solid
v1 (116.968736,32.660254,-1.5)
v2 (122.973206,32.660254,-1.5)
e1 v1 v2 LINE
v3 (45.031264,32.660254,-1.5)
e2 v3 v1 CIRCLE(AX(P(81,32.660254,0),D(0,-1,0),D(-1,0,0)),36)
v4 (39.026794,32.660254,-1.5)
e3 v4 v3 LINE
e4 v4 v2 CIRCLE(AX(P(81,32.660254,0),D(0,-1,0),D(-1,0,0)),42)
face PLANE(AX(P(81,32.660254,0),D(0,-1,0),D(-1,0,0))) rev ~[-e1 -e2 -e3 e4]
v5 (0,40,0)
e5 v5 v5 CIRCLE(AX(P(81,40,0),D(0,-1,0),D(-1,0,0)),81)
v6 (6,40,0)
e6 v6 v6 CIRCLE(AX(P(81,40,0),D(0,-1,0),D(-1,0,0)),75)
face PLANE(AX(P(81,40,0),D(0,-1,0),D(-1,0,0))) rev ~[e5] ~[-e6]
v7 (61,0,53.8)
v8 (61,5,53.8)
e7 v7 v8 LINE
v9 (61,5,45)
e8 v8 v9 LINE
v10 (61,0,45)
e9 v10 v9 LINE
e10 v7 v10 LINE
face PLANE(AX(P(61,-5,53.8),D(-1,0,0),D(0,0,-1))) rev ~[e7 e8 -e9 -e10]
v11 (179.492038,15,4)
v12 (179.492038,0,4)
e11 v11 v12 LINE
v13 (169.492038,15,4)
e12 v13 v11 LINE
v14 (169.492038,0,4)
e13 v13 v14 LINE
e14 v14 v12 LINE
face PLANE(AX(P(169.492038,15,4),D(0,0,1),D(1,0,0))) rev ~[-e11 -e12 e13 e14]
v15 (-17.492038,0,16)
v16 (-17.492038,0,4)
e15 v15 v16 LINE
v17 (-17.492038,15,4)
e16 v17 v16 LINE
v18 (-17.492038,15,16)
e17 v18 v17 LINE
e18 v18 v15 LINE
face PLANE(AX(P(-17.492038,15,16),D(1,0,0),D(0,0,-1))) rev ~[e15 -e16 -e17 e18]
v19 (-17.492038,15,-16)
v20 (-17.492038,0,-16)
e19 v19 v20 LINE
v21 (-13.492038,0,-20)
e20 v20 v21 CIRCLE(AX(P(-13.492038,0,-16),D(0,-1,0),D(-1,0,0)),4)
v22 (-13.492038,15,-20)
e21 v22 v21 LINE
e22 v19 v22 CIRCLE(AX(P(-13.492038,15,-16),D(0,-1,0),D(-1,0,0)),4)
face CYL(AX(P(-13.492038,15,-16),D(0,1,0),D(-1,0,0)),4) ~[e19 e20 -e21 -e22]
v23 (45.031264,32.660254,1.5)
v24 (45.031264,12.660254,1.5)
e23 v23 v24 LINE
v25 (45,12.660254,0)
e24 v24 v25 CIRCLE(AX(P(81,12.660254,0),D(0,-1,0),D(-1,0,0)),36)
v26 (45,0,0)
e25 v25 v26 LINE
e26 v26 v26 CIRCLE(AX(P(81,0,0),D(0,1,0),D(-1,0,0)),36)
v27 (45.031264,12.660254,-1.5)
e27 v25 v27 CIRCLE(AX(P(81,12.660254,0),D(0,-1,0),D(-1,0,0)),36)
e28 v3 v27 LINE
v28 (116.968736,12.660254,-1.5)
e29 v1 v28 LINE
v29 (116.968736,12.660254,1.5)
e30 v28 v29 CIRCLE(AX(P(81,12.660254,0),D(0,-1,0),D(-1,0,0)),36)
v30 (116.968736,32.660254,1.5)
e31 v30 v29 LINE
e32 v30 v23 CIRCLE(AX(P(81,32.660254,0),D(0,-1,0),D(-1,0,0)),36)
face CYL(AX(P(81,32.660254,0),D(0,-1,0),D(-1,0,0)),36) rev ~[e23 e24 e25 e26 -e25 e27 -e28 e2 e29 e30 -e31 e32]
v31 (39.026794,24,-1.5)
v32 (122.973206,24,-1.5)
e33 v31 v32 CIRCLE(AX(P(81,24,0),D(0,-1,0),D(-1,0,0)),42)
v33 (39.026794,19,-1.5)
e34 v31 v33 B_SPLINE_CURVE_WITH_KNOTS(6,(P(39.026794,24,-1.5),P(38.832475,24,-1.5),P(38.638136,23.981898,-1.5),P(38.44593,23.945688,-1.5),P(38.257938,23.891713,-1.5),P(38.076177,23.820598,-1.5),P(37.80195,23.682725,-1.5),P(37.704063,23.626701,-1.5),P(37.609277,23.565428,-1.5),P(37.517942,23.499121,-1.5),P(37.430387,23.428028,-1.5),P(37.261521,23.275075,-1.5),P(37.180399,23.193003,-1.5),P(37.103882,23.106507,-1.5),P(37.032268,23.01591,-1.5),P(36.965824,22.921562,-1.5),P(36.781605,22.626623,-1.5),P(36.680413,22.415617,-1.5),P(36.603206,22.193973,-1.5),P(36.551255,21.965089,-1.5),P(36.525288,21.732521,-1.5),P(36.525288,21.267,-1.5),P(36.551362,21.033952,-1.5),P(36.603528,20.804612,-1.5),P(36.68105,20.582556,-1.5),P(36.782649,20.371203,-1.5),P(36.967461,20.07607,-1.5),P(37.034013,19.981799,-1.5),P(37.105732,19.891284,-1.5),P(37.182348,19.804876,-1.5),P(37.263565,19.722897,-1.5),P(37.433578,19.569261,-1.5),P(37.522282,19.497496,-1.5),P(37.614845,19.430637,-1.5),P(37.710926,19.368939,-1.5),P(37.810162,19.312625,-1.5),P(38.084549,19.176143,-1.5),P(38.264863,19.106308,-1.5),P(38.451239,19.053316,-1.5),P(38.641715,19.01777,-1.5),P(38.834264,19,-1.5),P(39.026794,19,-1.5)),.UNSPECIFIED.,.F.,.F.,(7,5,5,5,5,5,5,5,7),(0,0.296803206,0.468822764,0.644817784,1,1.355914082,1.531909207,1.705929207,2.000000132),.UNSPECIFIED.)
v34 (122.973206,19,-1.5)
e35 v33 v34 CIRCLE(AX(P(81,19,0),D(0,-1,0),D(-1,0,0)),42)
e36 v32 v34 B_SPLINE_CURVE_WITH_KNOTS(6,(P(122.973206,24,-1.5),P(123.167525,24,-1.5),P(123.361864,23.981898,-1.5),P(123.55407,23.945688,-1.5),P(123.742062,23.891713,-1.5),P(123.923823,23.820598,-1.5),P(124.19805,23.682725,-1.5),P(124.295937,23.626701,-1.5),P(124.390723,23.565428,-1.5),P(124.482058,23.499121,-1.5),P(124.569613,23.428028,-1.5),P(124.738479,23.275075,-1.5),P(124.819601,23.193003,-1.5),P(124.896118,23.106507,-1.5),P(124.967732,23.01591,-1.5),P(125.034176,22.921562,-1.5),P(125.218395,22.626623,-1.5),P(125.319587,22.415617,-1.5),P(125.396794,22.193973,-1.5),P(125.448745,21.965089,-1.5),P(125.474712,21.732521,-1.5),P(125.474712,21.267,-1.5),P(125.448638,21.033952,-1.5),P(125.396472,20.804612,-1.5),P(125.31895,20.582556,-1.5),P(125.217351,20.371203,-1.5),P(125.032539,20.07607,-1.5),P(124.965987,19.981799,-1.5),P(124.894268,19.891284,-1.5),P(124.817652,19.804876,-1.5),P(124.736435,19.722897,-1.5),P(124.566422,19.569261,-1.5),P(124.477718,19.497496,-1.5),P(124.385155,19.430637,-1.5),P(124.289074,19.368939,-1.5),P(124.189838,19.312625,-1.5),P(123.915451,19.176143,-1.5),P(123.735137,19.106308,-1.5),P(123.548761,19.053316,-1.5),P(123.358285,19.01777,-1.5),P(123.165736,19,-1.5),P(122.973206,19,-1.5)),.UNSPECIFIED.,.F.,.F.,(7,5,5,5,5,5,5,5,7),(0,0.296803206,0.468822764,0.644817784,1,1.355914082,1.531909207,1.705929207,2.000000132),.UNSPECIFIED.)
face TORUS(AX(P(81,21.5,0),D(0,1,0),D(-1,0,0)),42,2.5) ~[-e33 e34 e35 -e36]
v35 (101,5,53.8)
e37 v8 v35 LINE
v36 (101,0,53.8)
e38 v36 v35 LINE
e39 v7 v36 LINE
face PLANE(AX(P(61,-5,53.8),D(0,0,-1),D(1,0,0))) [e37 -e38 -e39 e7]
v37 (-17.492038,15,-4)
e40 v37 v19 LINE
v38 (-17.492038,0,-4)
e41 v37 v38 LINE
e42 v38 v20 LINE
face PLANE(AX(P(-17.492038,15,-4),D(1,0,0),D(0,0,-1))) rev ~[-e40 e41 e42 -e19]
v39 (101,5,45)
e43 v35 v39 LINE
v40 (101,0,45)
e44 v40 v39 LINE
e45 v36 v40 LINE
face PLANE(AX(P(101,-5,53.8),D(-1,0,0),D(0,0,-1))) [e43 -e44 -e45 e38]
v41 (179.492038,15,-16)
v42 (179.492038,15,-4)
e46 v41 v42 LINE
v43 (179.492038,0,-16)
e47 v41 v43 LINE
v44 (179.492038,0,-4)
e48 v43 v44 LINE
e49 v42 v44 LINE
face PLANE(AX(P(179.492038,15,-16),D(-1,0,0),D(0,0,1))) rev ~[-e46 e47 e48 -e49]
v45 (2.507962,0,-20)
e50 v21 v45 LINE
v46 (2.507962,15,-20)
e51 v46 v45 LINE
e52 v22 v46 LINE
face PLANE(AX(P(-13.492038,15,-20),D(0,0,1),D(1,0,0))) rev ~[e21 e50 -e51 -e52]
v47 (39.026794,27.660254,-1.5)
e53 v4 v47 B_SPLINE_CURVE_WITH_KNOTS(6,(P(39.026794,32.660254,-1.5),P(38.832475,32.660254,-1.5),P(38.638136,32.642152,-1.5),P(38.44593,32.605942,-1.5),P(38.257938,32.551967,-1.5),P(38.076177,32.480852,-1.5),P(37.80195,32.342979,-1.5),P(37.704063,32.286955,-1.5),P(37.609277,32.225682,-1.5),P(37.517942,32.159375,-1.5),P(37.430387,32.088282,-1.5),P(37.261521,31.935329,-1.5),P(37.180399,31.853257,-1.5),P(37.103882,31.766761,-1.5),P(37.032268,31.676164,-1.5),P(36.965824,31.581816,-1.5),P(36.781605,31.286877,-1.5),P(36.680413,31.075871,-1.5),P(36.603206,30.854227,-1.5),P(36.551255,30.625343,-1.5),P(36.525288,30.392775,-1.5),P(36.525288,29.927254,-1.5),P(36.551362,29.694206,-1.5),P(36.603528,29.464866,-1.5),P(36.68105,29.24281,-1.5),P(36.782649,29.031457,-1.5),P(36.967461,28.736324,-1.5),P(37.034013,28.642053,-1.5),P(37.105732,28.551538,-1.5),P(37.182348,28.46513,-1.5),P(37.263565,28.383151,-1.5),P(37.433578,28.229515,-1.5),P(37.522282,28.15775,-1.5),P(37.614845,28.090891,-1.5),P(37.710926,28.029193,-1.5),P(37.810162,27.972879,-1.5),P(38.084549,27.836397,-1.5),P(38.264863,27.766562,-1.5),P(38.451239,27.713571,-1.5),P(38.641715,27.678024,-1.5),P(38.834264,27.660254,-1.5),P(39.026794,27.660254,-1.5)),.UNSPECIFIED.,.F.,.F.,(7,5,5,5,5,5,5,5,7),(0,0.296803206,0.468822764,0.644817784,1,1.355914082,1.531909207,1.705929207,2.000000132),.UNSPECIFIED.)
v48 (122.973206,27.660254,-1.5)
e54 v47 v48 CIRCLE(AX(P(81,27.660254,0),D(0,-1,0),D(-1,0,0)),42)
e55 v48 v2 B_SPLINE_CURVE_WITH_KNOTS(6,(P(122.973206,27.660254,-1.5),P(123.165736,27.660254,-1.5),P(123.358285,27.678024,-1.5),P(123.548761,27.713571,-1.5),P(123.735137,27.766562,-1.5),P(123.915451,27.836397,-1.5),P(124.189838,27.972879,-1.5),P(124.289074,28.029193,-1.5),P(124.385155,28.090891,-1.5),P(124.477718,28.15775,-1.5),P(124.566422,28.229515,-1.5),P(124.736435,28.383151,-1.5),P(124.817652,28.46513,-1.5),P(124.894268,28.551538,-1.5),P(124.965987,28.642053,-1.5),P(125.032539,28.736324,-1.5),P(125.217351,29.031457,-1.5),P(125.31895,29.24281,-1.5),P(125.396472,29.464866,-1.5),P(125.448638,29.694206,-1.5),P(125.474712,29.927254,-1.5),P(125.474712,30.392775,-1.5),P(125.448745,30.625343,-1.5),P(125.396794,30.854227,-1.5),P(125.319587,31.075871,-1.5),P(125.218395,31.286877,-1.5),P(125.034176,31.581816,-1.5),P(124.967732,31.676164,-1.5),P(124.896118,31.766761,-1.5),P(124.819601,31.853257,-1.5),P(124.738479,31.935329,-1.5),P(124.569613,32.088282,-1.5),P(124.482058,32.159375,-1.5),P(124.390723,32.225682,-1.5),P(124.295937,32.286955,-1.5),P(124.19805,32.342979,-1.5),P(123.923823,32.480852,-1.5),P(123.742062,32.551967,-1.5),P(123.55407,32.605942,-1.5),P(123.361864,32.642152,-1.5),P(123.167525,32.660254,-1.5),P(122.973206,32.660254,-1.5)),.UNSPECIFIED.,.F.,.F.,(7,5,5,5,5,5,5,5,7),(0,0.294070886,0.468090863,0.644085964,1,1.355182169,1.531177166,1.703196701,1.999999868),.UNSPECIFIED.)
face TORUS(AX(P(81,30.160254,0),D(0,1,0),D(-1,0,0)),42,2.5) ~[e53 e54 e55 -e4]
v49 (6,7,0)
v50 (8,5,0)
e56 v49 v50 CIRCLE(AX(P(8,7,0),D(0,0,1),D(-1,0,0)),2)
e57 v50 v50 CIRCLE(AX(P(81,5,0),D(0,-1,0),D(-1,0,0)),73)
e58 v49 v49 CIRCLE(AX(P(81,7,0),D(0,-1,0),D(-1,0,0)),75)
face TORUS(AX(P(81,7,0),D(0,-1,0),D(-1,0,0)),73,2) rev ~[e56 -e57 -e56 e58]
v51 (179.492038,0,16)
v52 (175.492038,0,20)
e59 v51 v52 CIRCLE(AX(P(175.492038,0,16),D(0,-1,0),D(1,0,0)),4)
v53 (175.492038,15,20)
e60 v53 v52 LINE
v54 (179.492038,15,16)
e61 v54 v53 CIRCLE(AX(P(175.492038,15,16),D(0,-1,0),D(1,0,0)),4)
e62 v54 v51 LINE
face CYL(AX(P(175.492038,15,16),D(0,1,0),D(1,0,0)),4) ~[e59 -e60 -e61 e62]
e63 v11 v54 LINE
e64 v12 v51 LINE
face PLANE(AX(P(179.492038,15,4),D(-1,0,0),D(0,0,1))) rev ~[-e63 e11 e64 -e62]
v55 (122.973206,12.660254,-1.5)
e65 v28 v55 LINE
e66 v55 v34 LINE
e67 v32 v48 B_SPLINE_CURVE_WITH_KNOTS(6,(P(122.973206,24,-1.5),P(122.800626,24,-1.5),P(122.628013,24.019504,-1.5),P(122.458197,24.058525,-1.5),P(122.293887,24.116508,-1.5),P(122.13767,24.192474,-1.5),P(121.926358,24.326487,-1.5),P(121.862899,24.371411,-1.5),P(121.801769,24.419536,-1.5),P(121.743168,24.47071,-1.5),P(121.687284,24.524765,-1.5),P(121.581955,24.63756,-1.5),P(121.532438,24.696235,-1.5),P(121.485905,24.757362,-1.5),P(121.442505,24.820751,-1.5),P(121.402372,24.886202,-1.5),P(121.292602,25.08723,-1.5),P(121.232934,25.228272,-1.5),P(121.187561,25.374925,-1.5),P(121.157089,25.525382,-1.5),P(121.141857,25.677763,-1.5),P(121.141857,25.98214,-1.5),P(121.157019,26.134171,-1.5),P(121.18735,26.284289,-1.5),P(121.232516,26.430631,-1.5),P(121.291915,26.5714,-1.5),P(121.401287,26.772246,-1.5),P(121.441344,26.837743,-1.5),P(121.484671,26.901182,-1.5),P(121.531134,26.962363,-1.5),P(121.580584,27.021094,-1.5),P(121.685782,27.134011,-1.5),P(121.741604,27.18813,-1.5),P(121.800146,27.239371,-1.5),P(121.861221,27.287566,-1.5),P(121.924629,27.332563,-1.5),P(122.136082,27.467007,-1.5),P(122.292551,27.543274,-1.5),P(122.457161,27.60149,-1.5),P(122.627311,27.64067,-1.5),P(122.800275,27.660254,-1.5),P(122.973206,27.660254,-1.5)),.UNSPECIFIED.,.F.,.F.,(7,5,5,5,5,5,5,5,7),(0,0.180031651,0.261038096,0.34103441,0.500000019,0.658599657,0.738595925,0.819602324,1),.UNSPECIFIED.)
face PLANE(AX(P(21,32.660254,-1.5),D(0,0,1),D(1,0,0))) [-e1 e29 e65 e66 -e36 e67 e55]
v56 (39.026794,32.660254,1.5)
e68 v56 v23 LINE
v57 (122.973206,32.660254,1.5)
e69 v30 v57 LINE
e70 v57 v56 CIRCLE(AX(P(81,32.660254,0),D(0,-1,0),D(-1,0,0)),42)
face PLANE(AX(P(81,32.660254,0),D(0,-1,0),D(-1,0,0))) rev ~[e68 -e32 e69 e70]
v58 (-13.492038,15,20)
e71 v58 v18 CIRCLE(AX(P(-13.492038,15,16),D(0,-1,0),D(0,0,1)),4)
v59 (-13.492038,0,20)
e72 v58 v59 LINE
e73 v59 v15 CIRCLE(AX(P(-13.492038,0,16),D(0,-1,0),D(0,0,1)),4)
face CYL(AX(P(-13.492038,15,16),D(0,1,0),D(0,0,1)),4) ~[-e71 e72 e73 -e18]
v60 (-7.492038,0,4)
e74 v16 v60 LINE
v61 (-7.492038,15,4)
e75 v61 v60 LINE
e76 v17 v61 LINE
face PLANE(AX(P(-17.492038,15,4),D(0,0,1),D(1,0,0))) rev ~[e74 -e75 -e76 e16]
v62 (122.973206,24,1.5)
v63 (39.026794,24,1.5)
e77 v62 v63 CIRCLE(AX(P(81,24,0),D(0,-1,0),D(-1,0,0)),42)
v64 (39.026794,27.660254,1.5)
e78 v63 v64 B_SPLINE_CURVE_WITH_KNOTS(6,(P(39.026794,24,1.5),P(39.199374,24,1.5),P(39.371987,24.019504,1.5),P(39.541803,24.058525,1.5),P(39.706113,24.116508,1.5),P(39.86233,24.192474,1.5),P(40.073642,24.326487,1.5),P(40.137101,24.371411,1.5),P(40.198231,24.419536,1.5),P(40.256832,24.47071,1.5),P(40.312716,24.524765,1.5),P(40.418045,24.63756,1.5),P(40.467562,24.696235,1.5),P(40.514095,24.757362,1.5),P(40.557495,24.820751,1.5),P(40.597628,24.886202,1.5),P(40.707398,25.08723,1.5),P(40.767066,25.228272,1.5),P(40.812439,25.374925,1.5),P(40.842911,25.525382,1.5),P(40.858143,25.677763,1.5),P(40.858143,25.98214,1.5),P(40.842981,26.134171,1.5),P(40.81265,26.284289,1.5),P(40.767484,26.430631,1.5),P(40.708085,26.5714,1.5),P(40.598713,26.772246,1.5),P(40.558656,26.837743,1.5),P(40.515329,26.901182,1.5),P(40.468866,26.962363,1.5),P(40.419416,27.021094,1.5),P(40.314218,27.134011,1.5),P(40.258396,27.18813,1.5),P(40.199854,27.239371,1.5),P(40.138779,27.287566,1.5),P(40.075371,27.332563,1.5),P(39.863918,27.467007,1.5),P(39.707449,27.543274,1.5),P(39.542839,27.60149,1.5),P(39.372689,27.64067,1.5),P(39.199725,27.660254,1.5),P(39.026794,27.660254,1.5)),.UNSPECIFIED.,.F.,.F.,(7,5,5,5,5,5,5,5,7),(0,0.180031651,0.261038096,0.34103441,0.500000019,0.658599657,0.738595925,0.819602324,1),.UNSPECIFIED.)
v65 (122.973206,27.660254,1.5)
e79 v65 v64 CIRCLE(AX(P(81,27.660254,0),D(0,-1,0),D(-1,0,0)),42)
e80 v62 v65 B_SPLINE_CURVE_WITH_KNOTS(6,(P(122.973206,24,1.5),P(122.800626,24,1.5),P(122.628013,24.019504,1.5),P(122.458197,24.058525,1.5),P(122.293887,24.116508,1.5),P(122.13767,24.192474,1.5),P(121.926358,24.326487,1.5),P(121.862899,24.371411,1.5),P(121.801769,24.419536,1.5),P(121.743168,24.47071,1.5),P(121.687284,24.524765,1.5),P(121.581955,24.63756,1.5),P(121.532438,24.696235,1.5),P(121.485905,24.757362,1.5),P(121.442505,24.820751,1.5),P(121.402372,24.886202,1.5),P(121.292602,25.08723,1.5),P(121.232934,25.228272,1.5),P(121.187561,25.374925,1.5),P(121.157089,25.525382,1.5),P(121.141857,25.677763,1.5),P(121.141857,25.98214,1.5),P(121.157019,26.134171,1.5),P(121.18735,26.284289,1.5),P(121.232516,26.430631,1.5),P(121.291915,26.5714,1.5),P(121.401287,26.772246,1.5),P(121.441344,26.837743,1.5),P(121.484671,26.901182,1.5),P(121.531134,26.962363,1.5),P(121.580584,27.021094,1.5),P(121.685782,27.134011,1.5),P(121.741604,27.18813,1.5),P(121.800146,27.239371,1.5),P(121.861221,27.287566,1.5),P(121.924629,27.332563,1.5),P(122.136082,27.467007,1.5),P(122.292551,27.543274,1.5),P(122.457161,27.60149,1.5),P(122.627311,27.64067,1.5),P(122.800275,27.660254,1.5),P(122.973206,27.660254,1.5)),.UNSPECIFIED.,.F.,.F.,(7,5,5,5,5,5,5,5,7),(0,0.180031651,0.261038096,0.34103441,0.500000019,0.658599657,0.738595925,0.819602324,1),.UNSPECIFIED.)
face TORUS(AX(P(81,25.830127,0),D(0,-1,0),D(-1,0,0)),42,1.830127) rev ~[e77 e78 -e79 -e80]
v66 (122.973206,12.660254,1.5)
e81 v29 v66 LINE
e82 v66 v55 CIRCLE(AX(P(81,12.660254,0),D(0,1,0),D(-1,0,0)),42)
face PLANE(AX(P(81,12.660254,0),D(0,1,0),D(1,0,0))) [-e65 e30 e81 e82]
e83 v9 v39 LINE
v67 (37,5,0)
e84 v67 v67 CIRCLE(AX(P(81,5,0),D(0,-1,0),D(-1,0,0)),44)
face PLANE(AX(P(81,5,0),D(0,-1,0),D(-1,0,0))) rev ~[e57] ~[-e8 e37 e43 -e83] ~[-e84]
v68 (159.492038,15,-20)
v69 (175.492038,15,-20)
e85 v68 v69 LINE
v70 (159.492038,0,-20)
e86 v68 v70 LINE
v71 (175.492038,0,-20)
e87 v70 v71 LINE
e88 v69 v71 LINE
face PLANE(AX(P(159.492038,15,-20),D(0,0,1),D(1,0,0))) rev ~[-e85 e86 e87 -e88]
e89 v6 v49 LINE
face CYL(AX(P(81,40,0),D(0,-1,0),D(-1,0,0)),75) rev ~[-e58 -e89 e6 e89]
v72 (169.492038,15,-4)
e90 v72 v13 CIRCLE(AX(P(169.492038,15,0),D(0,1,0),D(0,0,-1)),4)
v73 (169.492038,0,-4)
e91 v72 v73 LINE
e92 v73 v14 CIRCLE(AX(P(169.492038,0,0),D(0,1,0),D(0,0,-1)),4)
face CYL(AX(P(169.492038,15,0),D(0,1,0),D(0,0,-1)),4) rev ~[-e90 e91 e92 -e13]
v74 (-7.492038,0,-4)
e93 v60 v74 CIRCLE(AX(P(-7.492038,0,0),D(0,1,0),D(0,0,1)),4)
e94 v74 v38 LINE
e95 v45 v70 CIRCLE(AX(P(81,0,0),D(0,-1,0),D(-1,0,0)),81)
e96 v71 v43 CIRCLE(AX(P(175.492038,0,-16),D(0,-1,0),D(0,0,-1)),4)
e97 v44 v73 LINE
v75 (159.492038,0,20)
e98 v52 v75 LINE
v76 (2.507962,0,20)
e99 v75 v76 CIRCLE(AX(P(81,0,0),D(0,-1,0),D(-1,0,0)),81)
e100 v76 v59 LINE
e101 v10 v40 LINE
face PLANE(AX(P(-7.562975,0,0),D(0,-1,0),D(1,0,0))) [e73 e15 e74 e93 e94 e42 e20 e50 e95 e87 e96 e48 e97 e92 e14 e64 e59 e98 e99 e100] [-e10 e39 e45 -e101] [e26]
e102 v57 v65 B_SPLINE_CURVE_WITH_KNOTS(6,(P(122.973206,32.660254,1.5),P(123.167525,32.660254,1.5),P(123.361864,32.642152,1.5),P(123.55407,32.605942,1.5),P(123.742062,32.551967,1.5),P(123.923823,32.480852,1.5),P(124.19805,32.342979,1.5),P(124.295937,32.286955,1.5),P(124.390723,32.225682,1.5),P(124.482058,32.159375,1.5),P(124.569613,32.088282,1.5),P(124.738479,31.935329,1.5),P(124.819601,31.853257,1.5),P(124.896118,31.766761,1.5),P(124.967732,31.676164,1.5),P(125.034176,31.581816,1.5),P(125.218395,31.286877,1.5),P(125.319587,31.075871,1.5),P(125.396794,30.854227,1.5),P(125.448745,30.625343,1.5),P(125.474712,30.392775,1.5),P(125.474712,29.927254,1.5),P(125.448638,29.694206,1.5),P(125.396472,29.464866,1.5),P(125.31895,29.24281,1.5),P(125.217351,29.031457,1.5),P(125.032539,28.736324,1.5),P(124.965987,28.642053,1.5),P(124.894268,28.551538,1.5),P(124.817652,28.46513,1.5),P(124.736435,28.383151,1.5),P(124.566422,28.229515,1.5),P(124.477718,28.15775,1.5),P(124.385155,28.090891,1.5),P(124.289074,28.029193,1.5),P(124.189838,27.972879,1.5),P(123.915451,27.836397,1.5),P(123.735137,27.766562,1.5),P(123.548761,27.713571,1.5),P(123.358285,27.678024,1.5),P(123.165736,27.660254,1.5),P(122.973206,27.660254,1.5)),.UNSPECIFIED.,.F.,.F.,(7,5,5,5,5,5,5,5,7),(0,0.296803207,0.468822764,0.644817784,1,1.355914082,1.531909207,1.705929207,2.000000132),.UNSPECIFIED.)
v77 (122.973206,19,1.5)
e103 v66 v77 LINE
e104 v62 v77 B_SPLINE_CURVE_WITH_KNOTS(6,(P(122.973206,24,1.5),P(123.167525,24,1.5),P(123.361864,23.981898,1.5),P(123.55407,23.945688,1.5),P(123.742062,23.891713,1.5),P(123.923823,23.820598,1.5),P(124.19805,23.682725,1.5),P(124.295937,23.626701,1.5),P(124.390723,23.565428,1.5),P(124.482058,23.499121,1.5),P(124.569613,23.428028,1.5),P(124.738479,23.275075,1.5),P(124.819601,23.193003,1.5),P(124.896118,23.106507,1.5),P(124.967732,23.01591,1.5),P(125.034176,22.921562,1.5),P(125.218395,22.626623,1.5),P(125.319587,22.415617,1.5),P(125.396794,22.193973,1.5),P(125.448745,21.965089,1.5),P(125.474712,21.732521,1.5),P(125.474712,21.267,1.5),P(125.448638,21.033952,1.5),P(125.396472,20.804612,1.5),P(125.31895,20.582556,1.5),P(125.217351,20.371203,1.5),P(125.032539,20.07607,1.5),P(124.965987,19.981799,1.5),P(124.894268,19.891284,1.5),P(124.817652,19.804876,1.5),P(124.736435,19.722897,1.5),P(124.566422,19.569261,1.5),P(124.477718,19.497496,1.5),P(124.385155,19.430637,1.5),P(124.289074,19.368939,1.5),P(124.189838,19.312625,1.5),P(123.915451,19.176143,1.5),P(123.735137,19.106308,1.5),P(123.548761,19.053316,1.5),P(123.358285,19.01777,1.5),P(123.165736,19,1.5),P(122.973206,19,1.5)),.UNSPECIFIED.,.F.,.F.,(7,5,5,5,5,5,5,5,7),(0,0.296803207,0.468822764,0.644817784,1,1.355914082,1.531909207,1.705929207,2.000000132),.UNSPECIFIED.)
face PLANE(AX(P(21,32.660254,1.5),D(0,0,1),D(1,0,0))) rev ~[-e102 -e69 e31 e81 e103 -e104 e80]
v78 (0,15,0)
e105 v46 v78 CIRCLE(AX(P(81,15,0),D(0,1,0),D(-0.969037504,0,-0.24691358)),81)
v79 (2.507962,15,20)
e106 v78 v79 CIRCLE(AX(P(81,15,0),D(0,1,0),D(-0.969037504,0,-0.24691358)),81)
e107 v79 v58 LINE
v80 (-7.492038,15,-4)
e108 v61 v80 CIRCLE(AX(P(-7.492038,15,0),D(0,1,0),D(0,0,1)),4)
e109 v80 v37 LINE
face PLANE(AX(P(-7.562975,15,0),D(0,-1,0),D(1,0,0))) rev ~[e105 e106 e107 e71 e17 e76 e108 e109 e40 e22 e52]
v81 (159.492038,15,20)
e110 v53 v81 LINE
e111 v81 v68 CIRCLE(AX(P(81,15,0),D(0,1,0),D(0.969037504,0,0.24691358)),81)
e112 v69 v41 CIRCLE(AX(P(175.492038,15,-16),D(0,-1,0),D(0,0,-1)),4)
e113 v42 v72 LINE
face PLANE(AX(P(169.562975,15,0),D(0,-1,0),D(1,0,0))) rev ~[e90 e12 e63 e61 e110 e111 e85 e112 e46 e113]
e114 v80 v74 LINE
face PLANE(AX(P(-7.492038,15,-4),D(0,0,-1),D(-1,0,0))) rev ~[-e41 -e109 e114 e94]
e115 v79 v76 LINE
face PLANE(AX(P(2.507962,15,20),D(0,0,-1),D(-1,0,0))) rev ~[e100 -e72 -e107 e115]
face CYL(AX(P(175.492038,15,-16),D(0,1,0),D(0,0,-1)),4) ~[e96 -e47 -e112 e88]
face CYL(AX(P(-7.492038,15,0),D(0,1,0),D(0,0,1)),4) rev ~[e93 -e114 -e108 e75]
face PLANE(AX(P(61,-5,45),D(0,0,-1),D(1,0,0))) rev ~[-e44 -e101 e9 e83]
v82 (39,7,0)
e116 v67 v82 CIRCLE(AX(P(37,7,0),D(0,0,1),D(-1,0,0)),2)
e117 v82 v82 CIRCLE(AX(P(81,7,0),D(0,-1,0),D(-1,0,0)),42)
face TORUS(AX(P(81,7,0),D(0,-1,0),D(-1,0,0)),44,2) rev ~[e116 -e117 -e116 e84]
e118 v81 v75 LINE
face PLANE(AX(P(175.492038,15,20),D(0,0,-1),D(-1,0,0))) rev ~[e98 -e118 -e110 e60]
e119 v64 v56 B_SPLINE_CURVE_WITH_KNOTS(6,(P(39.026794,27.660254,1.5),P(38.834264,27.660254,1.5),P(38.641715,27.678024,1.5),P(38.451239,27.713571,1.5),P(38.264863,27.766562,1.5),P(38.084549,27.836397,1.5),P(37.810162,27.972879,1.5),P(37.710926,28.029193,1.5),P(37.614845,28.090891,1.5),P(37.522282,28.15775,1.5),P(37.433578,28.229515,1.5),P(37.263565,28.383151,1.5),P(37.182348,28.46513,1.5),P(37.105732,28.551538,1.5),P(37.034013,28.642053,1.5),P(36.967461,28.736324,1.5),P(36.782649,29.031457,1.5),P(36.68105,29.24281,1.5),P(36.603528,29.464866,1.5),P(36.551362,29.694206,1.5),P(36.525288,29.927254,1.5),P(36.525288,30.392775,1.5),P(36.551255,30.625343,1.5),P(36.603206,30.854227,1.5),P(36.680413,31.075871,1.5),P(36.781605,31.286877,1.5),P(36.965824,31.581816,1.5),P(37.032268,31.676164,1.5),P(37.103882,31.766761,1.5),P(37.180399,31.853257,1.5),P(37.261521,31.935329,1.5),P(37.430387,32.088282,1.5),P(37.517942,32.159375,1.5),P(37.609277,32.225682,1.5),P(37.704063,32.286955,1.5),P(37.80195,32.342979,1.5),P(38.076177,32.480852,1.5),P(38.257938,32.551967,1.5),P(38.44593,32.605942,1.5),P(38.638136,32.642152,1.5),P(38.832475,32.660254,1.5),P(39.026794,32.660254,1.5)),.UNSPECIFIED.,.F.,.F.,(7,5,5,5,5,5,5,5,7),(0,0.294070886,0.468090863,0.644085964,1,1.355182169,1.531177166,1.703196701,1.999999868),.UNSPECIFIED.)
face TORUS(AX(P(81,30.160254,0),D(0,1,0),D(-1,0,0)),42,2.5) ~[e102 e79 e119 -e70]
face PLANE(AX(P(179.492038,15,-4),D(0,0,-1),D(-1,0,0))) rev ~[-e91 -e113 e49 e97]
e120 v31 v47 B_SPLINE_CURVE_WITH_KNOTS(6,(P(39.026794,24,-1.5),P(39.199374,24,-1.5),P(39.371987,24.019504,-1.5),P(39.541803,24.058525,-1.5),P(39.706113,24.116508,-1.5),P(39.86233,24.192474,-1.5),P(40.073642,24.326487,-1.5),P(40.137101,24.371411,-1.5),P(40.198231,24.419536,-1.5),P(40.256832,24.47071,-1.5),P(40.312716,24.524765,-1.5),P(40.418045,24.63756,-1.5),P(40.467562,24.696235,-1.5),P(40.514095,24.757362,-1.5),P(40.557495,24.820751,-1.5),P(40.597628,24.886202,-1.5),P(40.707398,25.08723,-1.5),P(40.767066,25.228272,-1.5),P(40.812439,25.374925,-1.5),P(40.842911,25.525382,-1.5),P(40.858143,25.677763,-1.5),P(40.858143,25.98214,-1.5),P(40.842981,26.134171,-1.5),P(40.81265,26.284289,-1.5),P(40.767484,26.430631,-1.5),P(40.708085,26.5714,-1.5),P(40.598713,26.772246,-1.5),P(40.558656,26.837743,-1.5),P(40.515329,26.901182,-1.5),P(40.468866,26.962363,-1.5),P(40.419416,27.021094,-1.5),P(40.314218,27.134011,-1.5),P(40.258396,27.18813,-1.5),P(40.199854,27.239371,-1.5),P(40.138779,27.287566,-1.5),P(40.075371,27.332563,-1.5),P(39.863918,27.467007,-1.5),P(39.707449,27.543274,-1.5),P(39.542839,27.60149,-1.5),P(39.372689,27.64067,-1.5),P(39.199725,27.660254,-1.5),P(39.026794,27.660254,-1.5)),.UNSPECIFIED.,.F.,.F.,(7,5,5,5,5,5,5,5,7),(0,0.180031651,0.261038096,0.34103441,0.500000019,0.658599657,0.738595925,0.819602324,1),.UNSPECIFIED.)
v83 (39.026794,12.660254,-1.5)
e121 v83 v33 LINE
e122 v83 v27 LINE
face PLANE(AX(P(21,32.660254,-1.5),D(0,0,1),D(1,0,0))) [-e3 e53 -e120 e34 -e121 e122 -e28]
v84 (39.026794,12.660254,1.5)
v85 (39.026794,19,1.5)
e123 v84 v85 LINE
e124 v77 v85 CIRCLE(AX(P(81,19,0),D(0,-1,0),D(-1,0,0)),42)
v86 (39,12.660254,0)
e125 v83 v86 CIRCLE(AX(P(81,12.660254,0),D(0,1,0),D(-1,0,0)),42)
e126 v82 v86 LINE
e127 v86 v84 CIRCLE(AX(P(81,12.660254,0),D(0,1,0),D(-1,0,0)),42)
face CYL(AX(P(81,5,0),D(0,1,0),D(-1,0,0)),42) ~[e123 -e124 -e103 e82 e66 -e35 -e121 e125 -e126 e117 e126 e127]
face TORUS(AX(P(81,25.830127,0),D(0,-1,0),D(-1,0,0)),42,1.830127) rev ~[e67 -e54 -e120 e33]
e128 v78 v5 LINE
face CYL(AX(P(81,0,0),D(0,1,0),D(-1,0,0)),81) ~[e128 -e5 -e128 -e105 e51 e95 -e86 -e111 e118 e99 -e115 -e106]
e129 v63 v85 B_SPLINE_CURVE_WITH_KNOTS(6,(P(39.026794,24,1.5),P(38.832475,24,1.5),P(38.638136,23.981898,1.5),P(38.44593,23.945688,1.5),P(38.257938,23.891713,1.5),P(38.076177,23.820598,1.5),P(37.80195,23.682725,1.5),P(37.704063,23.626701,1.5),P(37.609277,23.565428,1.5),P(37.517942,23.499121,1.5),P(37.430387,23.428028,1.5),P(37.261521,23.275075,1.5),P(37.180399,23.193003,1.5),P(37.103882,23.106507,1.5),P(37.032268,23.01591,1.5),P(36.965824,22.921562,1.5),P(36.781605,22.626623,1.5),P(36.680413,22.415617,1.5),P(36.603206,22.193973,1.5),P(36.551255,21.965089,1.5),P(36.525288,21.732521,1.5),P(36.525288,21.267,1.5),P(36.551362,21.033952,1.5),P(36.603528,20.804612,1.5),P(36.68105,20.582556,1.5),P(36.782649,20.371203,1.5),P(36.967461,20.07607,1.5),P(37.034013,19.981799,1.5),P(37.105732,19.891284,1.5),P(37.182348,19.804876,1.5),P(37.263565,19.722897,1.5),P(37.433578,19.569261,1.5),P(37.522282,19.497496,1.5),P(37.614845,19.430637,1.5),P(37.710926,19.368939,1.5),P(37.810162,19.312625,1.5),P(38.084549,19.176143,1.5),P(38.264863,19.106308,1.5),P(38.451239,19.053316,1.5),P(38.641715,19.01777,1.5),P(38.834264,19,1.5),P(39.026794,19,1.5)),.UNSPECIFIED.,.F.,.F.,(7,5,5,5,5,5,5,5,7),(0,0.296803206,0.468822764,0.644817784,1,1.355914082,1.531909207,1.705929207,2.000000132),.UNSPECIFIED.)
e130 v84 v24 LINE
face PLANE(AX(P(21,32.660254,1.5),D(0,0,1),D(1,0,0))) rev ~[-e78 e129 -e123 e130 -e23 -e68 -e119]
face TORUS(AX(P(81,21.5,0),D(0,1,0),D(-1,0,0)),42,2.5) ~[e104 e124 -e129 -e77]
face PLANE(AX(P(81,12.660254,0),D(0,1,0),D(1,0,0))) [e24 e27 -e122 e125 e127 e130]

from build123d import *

# Parameters (mm, degrees)
BOSS_EXTRUDE1_START = -15
BOSS_EXTRUDE1_DEPTH = 15
FILLET3_R           = 2
SKETCH4_W           = 120
SKETCH4_H           = 3
CUT_EXTRUDE1_DEPTH  = 20
CUT_EXTRUDE2_START  = -10
SKETCH5_W           = 40
SKETCH5_H           = 8.8
CUT_EXTRUDE2_DEPTH  = 10


with BuildPart() as part:
    # Sketch2 → Revolve1 (revolve)
    with BuildSketch(Plane.XY):
        with BuildLine():
            Line((0, 0), (0, 40))
            Line((0, 40), (6, 40))
            Line((6, 40), (6, 5))
            Line((6, 5), (39, 5))
            Line((39, 5), (39, 19))
            ThreePointArc((39, 19), (36.5, 21.5), (39, 24))
            ThreePointArc((39, 24), (40.830127019, 25.830127019), (39, 27.660254038))
            ThreePointArc((39, 27.660254038), (36.5, 30.160254038), (39, 32.660254038))
            Line((39, 32.660254038), (45, 32.660254038))
            Line((45, 32.660254038), (45, 0))
            Line((45, 0), (0, 0))
        make_face()
    revolve(axis=Axis((81, 93.537735849, 0), (0, -1, 0)))

    # Sketch3 → Boss-Extrude1 (add)
    with BuildSketch(Plane.XZ.offset(BOSS_EXTRUDE1_START)):
        with BuildLine():
            ThreePointArc((-13.492037813, 20), (-16.320464938, 18.828427125), (-17.492037813, 16))
            Line((-17.492037813, 16), (-17.492037813, 4))
            Line((-17.492037813, 4), (-7.492037813, 4))
            ThreePointArc((-7.492037813, 4), (-3.492037813, 0), (-7.492037813, -4))
            Line((-7.492037813, -4), (-17.492037813, -4))
            Line((-17.492037813, -4), (-17.492037813, -16))
            ThreePointArc((-17.492037813, -16), (-16.320464938, -18.828427125), (-13.492037813, -20))
            Line((-13.492037813, -20), (2.507962187, -20))
            ThreePointArc((2.507962187, -20), (0, 0), (2.507962187, 20))
            Line((2.507962187, 20), (-13.492037813, 20))
        make_face()
        with BuildLine():
            Line((159.492037813, -20), (175.492037813, -20))
            ThreePointArc((175.492037813, -20), (178.320464938, -18.828427125), (179.492037813, -16))
            Line((179.492037813, -16), (179.492037813, -4))
            Line((179.492037813, -4), (169.492037813, -4))
            ThreePointArc((169.492037813, -4), (165.492037813, 0), (169.492037813, 4))
            Line((169.492037813, 4), (179.492037813, 4))
            Line((179.492037813, 4), (179.492037813, 16))
            ThreePointArc((179.492037813, 16), (178.320464938, 18.828427125), (175.492037813, 20))
            Line((175.492037813, 20), (159.492037813, 20))
            ThreePointArc((159.492037813, 20), (162, 0), (159.492037813, -20))
        make_face()
    extrude(amount=BOSS_EXTRUDE1_DEPTH)

    # Fillet3
    fillet3_edges = [part.edges().sort_by_distance(p)[0] for p in [
        (123, 5, 0),
        (156, 5, 0),
    ]]
    fillet(fillet3_edges, radius=FILLET3_R)

    # Sketch4 → Cut-Extrude1 (cut)
    with BuildSketch(Plane(origin=(0, 32.660254038, 0), x_dir=(1, 0, 0), z_dir=(0, 1, 0))):
        with Locations((81, 0)):
            Rectangle(SKETCH4_W, SKETCH4_H)
    extrude(amount=-CUT_EXTRUDE1_DEPTH, mode=Mode.SUBTRACT)

    # Sketch5 → Cut-Extrude2 (cut)
    with BuildSketch(Plane(origin=(0, 5, 0), x_dir=(1, 0, 0), z_dir=(0, 1, 0)).offset(CUT_EXTRUDE2_START)):
        with Locations((81, -49.4)):
            Rectangle(SKETCH5_W, SKETCH5_H)
        with BuildLine():
            ThreePointArc((45.031263575, 1.5), (45, 0), (45.031263575, -1.5))
            ThreePointArc((45.031263575, -1.5), (81, -36), (116.968736425, -1.5))
            ThreePointArc((116.968736425, -1.5), (117, 0), (116.968736425, 1.5))
            ThreePointArc((116.968736425, 1.5), (81, 36), (45.031263575, 1.5))
        make_face()
    extrude(amount=CUT_EXTRUDE2_DEPTH, mode=Mode.SUBTRACT)


solid = part.part
